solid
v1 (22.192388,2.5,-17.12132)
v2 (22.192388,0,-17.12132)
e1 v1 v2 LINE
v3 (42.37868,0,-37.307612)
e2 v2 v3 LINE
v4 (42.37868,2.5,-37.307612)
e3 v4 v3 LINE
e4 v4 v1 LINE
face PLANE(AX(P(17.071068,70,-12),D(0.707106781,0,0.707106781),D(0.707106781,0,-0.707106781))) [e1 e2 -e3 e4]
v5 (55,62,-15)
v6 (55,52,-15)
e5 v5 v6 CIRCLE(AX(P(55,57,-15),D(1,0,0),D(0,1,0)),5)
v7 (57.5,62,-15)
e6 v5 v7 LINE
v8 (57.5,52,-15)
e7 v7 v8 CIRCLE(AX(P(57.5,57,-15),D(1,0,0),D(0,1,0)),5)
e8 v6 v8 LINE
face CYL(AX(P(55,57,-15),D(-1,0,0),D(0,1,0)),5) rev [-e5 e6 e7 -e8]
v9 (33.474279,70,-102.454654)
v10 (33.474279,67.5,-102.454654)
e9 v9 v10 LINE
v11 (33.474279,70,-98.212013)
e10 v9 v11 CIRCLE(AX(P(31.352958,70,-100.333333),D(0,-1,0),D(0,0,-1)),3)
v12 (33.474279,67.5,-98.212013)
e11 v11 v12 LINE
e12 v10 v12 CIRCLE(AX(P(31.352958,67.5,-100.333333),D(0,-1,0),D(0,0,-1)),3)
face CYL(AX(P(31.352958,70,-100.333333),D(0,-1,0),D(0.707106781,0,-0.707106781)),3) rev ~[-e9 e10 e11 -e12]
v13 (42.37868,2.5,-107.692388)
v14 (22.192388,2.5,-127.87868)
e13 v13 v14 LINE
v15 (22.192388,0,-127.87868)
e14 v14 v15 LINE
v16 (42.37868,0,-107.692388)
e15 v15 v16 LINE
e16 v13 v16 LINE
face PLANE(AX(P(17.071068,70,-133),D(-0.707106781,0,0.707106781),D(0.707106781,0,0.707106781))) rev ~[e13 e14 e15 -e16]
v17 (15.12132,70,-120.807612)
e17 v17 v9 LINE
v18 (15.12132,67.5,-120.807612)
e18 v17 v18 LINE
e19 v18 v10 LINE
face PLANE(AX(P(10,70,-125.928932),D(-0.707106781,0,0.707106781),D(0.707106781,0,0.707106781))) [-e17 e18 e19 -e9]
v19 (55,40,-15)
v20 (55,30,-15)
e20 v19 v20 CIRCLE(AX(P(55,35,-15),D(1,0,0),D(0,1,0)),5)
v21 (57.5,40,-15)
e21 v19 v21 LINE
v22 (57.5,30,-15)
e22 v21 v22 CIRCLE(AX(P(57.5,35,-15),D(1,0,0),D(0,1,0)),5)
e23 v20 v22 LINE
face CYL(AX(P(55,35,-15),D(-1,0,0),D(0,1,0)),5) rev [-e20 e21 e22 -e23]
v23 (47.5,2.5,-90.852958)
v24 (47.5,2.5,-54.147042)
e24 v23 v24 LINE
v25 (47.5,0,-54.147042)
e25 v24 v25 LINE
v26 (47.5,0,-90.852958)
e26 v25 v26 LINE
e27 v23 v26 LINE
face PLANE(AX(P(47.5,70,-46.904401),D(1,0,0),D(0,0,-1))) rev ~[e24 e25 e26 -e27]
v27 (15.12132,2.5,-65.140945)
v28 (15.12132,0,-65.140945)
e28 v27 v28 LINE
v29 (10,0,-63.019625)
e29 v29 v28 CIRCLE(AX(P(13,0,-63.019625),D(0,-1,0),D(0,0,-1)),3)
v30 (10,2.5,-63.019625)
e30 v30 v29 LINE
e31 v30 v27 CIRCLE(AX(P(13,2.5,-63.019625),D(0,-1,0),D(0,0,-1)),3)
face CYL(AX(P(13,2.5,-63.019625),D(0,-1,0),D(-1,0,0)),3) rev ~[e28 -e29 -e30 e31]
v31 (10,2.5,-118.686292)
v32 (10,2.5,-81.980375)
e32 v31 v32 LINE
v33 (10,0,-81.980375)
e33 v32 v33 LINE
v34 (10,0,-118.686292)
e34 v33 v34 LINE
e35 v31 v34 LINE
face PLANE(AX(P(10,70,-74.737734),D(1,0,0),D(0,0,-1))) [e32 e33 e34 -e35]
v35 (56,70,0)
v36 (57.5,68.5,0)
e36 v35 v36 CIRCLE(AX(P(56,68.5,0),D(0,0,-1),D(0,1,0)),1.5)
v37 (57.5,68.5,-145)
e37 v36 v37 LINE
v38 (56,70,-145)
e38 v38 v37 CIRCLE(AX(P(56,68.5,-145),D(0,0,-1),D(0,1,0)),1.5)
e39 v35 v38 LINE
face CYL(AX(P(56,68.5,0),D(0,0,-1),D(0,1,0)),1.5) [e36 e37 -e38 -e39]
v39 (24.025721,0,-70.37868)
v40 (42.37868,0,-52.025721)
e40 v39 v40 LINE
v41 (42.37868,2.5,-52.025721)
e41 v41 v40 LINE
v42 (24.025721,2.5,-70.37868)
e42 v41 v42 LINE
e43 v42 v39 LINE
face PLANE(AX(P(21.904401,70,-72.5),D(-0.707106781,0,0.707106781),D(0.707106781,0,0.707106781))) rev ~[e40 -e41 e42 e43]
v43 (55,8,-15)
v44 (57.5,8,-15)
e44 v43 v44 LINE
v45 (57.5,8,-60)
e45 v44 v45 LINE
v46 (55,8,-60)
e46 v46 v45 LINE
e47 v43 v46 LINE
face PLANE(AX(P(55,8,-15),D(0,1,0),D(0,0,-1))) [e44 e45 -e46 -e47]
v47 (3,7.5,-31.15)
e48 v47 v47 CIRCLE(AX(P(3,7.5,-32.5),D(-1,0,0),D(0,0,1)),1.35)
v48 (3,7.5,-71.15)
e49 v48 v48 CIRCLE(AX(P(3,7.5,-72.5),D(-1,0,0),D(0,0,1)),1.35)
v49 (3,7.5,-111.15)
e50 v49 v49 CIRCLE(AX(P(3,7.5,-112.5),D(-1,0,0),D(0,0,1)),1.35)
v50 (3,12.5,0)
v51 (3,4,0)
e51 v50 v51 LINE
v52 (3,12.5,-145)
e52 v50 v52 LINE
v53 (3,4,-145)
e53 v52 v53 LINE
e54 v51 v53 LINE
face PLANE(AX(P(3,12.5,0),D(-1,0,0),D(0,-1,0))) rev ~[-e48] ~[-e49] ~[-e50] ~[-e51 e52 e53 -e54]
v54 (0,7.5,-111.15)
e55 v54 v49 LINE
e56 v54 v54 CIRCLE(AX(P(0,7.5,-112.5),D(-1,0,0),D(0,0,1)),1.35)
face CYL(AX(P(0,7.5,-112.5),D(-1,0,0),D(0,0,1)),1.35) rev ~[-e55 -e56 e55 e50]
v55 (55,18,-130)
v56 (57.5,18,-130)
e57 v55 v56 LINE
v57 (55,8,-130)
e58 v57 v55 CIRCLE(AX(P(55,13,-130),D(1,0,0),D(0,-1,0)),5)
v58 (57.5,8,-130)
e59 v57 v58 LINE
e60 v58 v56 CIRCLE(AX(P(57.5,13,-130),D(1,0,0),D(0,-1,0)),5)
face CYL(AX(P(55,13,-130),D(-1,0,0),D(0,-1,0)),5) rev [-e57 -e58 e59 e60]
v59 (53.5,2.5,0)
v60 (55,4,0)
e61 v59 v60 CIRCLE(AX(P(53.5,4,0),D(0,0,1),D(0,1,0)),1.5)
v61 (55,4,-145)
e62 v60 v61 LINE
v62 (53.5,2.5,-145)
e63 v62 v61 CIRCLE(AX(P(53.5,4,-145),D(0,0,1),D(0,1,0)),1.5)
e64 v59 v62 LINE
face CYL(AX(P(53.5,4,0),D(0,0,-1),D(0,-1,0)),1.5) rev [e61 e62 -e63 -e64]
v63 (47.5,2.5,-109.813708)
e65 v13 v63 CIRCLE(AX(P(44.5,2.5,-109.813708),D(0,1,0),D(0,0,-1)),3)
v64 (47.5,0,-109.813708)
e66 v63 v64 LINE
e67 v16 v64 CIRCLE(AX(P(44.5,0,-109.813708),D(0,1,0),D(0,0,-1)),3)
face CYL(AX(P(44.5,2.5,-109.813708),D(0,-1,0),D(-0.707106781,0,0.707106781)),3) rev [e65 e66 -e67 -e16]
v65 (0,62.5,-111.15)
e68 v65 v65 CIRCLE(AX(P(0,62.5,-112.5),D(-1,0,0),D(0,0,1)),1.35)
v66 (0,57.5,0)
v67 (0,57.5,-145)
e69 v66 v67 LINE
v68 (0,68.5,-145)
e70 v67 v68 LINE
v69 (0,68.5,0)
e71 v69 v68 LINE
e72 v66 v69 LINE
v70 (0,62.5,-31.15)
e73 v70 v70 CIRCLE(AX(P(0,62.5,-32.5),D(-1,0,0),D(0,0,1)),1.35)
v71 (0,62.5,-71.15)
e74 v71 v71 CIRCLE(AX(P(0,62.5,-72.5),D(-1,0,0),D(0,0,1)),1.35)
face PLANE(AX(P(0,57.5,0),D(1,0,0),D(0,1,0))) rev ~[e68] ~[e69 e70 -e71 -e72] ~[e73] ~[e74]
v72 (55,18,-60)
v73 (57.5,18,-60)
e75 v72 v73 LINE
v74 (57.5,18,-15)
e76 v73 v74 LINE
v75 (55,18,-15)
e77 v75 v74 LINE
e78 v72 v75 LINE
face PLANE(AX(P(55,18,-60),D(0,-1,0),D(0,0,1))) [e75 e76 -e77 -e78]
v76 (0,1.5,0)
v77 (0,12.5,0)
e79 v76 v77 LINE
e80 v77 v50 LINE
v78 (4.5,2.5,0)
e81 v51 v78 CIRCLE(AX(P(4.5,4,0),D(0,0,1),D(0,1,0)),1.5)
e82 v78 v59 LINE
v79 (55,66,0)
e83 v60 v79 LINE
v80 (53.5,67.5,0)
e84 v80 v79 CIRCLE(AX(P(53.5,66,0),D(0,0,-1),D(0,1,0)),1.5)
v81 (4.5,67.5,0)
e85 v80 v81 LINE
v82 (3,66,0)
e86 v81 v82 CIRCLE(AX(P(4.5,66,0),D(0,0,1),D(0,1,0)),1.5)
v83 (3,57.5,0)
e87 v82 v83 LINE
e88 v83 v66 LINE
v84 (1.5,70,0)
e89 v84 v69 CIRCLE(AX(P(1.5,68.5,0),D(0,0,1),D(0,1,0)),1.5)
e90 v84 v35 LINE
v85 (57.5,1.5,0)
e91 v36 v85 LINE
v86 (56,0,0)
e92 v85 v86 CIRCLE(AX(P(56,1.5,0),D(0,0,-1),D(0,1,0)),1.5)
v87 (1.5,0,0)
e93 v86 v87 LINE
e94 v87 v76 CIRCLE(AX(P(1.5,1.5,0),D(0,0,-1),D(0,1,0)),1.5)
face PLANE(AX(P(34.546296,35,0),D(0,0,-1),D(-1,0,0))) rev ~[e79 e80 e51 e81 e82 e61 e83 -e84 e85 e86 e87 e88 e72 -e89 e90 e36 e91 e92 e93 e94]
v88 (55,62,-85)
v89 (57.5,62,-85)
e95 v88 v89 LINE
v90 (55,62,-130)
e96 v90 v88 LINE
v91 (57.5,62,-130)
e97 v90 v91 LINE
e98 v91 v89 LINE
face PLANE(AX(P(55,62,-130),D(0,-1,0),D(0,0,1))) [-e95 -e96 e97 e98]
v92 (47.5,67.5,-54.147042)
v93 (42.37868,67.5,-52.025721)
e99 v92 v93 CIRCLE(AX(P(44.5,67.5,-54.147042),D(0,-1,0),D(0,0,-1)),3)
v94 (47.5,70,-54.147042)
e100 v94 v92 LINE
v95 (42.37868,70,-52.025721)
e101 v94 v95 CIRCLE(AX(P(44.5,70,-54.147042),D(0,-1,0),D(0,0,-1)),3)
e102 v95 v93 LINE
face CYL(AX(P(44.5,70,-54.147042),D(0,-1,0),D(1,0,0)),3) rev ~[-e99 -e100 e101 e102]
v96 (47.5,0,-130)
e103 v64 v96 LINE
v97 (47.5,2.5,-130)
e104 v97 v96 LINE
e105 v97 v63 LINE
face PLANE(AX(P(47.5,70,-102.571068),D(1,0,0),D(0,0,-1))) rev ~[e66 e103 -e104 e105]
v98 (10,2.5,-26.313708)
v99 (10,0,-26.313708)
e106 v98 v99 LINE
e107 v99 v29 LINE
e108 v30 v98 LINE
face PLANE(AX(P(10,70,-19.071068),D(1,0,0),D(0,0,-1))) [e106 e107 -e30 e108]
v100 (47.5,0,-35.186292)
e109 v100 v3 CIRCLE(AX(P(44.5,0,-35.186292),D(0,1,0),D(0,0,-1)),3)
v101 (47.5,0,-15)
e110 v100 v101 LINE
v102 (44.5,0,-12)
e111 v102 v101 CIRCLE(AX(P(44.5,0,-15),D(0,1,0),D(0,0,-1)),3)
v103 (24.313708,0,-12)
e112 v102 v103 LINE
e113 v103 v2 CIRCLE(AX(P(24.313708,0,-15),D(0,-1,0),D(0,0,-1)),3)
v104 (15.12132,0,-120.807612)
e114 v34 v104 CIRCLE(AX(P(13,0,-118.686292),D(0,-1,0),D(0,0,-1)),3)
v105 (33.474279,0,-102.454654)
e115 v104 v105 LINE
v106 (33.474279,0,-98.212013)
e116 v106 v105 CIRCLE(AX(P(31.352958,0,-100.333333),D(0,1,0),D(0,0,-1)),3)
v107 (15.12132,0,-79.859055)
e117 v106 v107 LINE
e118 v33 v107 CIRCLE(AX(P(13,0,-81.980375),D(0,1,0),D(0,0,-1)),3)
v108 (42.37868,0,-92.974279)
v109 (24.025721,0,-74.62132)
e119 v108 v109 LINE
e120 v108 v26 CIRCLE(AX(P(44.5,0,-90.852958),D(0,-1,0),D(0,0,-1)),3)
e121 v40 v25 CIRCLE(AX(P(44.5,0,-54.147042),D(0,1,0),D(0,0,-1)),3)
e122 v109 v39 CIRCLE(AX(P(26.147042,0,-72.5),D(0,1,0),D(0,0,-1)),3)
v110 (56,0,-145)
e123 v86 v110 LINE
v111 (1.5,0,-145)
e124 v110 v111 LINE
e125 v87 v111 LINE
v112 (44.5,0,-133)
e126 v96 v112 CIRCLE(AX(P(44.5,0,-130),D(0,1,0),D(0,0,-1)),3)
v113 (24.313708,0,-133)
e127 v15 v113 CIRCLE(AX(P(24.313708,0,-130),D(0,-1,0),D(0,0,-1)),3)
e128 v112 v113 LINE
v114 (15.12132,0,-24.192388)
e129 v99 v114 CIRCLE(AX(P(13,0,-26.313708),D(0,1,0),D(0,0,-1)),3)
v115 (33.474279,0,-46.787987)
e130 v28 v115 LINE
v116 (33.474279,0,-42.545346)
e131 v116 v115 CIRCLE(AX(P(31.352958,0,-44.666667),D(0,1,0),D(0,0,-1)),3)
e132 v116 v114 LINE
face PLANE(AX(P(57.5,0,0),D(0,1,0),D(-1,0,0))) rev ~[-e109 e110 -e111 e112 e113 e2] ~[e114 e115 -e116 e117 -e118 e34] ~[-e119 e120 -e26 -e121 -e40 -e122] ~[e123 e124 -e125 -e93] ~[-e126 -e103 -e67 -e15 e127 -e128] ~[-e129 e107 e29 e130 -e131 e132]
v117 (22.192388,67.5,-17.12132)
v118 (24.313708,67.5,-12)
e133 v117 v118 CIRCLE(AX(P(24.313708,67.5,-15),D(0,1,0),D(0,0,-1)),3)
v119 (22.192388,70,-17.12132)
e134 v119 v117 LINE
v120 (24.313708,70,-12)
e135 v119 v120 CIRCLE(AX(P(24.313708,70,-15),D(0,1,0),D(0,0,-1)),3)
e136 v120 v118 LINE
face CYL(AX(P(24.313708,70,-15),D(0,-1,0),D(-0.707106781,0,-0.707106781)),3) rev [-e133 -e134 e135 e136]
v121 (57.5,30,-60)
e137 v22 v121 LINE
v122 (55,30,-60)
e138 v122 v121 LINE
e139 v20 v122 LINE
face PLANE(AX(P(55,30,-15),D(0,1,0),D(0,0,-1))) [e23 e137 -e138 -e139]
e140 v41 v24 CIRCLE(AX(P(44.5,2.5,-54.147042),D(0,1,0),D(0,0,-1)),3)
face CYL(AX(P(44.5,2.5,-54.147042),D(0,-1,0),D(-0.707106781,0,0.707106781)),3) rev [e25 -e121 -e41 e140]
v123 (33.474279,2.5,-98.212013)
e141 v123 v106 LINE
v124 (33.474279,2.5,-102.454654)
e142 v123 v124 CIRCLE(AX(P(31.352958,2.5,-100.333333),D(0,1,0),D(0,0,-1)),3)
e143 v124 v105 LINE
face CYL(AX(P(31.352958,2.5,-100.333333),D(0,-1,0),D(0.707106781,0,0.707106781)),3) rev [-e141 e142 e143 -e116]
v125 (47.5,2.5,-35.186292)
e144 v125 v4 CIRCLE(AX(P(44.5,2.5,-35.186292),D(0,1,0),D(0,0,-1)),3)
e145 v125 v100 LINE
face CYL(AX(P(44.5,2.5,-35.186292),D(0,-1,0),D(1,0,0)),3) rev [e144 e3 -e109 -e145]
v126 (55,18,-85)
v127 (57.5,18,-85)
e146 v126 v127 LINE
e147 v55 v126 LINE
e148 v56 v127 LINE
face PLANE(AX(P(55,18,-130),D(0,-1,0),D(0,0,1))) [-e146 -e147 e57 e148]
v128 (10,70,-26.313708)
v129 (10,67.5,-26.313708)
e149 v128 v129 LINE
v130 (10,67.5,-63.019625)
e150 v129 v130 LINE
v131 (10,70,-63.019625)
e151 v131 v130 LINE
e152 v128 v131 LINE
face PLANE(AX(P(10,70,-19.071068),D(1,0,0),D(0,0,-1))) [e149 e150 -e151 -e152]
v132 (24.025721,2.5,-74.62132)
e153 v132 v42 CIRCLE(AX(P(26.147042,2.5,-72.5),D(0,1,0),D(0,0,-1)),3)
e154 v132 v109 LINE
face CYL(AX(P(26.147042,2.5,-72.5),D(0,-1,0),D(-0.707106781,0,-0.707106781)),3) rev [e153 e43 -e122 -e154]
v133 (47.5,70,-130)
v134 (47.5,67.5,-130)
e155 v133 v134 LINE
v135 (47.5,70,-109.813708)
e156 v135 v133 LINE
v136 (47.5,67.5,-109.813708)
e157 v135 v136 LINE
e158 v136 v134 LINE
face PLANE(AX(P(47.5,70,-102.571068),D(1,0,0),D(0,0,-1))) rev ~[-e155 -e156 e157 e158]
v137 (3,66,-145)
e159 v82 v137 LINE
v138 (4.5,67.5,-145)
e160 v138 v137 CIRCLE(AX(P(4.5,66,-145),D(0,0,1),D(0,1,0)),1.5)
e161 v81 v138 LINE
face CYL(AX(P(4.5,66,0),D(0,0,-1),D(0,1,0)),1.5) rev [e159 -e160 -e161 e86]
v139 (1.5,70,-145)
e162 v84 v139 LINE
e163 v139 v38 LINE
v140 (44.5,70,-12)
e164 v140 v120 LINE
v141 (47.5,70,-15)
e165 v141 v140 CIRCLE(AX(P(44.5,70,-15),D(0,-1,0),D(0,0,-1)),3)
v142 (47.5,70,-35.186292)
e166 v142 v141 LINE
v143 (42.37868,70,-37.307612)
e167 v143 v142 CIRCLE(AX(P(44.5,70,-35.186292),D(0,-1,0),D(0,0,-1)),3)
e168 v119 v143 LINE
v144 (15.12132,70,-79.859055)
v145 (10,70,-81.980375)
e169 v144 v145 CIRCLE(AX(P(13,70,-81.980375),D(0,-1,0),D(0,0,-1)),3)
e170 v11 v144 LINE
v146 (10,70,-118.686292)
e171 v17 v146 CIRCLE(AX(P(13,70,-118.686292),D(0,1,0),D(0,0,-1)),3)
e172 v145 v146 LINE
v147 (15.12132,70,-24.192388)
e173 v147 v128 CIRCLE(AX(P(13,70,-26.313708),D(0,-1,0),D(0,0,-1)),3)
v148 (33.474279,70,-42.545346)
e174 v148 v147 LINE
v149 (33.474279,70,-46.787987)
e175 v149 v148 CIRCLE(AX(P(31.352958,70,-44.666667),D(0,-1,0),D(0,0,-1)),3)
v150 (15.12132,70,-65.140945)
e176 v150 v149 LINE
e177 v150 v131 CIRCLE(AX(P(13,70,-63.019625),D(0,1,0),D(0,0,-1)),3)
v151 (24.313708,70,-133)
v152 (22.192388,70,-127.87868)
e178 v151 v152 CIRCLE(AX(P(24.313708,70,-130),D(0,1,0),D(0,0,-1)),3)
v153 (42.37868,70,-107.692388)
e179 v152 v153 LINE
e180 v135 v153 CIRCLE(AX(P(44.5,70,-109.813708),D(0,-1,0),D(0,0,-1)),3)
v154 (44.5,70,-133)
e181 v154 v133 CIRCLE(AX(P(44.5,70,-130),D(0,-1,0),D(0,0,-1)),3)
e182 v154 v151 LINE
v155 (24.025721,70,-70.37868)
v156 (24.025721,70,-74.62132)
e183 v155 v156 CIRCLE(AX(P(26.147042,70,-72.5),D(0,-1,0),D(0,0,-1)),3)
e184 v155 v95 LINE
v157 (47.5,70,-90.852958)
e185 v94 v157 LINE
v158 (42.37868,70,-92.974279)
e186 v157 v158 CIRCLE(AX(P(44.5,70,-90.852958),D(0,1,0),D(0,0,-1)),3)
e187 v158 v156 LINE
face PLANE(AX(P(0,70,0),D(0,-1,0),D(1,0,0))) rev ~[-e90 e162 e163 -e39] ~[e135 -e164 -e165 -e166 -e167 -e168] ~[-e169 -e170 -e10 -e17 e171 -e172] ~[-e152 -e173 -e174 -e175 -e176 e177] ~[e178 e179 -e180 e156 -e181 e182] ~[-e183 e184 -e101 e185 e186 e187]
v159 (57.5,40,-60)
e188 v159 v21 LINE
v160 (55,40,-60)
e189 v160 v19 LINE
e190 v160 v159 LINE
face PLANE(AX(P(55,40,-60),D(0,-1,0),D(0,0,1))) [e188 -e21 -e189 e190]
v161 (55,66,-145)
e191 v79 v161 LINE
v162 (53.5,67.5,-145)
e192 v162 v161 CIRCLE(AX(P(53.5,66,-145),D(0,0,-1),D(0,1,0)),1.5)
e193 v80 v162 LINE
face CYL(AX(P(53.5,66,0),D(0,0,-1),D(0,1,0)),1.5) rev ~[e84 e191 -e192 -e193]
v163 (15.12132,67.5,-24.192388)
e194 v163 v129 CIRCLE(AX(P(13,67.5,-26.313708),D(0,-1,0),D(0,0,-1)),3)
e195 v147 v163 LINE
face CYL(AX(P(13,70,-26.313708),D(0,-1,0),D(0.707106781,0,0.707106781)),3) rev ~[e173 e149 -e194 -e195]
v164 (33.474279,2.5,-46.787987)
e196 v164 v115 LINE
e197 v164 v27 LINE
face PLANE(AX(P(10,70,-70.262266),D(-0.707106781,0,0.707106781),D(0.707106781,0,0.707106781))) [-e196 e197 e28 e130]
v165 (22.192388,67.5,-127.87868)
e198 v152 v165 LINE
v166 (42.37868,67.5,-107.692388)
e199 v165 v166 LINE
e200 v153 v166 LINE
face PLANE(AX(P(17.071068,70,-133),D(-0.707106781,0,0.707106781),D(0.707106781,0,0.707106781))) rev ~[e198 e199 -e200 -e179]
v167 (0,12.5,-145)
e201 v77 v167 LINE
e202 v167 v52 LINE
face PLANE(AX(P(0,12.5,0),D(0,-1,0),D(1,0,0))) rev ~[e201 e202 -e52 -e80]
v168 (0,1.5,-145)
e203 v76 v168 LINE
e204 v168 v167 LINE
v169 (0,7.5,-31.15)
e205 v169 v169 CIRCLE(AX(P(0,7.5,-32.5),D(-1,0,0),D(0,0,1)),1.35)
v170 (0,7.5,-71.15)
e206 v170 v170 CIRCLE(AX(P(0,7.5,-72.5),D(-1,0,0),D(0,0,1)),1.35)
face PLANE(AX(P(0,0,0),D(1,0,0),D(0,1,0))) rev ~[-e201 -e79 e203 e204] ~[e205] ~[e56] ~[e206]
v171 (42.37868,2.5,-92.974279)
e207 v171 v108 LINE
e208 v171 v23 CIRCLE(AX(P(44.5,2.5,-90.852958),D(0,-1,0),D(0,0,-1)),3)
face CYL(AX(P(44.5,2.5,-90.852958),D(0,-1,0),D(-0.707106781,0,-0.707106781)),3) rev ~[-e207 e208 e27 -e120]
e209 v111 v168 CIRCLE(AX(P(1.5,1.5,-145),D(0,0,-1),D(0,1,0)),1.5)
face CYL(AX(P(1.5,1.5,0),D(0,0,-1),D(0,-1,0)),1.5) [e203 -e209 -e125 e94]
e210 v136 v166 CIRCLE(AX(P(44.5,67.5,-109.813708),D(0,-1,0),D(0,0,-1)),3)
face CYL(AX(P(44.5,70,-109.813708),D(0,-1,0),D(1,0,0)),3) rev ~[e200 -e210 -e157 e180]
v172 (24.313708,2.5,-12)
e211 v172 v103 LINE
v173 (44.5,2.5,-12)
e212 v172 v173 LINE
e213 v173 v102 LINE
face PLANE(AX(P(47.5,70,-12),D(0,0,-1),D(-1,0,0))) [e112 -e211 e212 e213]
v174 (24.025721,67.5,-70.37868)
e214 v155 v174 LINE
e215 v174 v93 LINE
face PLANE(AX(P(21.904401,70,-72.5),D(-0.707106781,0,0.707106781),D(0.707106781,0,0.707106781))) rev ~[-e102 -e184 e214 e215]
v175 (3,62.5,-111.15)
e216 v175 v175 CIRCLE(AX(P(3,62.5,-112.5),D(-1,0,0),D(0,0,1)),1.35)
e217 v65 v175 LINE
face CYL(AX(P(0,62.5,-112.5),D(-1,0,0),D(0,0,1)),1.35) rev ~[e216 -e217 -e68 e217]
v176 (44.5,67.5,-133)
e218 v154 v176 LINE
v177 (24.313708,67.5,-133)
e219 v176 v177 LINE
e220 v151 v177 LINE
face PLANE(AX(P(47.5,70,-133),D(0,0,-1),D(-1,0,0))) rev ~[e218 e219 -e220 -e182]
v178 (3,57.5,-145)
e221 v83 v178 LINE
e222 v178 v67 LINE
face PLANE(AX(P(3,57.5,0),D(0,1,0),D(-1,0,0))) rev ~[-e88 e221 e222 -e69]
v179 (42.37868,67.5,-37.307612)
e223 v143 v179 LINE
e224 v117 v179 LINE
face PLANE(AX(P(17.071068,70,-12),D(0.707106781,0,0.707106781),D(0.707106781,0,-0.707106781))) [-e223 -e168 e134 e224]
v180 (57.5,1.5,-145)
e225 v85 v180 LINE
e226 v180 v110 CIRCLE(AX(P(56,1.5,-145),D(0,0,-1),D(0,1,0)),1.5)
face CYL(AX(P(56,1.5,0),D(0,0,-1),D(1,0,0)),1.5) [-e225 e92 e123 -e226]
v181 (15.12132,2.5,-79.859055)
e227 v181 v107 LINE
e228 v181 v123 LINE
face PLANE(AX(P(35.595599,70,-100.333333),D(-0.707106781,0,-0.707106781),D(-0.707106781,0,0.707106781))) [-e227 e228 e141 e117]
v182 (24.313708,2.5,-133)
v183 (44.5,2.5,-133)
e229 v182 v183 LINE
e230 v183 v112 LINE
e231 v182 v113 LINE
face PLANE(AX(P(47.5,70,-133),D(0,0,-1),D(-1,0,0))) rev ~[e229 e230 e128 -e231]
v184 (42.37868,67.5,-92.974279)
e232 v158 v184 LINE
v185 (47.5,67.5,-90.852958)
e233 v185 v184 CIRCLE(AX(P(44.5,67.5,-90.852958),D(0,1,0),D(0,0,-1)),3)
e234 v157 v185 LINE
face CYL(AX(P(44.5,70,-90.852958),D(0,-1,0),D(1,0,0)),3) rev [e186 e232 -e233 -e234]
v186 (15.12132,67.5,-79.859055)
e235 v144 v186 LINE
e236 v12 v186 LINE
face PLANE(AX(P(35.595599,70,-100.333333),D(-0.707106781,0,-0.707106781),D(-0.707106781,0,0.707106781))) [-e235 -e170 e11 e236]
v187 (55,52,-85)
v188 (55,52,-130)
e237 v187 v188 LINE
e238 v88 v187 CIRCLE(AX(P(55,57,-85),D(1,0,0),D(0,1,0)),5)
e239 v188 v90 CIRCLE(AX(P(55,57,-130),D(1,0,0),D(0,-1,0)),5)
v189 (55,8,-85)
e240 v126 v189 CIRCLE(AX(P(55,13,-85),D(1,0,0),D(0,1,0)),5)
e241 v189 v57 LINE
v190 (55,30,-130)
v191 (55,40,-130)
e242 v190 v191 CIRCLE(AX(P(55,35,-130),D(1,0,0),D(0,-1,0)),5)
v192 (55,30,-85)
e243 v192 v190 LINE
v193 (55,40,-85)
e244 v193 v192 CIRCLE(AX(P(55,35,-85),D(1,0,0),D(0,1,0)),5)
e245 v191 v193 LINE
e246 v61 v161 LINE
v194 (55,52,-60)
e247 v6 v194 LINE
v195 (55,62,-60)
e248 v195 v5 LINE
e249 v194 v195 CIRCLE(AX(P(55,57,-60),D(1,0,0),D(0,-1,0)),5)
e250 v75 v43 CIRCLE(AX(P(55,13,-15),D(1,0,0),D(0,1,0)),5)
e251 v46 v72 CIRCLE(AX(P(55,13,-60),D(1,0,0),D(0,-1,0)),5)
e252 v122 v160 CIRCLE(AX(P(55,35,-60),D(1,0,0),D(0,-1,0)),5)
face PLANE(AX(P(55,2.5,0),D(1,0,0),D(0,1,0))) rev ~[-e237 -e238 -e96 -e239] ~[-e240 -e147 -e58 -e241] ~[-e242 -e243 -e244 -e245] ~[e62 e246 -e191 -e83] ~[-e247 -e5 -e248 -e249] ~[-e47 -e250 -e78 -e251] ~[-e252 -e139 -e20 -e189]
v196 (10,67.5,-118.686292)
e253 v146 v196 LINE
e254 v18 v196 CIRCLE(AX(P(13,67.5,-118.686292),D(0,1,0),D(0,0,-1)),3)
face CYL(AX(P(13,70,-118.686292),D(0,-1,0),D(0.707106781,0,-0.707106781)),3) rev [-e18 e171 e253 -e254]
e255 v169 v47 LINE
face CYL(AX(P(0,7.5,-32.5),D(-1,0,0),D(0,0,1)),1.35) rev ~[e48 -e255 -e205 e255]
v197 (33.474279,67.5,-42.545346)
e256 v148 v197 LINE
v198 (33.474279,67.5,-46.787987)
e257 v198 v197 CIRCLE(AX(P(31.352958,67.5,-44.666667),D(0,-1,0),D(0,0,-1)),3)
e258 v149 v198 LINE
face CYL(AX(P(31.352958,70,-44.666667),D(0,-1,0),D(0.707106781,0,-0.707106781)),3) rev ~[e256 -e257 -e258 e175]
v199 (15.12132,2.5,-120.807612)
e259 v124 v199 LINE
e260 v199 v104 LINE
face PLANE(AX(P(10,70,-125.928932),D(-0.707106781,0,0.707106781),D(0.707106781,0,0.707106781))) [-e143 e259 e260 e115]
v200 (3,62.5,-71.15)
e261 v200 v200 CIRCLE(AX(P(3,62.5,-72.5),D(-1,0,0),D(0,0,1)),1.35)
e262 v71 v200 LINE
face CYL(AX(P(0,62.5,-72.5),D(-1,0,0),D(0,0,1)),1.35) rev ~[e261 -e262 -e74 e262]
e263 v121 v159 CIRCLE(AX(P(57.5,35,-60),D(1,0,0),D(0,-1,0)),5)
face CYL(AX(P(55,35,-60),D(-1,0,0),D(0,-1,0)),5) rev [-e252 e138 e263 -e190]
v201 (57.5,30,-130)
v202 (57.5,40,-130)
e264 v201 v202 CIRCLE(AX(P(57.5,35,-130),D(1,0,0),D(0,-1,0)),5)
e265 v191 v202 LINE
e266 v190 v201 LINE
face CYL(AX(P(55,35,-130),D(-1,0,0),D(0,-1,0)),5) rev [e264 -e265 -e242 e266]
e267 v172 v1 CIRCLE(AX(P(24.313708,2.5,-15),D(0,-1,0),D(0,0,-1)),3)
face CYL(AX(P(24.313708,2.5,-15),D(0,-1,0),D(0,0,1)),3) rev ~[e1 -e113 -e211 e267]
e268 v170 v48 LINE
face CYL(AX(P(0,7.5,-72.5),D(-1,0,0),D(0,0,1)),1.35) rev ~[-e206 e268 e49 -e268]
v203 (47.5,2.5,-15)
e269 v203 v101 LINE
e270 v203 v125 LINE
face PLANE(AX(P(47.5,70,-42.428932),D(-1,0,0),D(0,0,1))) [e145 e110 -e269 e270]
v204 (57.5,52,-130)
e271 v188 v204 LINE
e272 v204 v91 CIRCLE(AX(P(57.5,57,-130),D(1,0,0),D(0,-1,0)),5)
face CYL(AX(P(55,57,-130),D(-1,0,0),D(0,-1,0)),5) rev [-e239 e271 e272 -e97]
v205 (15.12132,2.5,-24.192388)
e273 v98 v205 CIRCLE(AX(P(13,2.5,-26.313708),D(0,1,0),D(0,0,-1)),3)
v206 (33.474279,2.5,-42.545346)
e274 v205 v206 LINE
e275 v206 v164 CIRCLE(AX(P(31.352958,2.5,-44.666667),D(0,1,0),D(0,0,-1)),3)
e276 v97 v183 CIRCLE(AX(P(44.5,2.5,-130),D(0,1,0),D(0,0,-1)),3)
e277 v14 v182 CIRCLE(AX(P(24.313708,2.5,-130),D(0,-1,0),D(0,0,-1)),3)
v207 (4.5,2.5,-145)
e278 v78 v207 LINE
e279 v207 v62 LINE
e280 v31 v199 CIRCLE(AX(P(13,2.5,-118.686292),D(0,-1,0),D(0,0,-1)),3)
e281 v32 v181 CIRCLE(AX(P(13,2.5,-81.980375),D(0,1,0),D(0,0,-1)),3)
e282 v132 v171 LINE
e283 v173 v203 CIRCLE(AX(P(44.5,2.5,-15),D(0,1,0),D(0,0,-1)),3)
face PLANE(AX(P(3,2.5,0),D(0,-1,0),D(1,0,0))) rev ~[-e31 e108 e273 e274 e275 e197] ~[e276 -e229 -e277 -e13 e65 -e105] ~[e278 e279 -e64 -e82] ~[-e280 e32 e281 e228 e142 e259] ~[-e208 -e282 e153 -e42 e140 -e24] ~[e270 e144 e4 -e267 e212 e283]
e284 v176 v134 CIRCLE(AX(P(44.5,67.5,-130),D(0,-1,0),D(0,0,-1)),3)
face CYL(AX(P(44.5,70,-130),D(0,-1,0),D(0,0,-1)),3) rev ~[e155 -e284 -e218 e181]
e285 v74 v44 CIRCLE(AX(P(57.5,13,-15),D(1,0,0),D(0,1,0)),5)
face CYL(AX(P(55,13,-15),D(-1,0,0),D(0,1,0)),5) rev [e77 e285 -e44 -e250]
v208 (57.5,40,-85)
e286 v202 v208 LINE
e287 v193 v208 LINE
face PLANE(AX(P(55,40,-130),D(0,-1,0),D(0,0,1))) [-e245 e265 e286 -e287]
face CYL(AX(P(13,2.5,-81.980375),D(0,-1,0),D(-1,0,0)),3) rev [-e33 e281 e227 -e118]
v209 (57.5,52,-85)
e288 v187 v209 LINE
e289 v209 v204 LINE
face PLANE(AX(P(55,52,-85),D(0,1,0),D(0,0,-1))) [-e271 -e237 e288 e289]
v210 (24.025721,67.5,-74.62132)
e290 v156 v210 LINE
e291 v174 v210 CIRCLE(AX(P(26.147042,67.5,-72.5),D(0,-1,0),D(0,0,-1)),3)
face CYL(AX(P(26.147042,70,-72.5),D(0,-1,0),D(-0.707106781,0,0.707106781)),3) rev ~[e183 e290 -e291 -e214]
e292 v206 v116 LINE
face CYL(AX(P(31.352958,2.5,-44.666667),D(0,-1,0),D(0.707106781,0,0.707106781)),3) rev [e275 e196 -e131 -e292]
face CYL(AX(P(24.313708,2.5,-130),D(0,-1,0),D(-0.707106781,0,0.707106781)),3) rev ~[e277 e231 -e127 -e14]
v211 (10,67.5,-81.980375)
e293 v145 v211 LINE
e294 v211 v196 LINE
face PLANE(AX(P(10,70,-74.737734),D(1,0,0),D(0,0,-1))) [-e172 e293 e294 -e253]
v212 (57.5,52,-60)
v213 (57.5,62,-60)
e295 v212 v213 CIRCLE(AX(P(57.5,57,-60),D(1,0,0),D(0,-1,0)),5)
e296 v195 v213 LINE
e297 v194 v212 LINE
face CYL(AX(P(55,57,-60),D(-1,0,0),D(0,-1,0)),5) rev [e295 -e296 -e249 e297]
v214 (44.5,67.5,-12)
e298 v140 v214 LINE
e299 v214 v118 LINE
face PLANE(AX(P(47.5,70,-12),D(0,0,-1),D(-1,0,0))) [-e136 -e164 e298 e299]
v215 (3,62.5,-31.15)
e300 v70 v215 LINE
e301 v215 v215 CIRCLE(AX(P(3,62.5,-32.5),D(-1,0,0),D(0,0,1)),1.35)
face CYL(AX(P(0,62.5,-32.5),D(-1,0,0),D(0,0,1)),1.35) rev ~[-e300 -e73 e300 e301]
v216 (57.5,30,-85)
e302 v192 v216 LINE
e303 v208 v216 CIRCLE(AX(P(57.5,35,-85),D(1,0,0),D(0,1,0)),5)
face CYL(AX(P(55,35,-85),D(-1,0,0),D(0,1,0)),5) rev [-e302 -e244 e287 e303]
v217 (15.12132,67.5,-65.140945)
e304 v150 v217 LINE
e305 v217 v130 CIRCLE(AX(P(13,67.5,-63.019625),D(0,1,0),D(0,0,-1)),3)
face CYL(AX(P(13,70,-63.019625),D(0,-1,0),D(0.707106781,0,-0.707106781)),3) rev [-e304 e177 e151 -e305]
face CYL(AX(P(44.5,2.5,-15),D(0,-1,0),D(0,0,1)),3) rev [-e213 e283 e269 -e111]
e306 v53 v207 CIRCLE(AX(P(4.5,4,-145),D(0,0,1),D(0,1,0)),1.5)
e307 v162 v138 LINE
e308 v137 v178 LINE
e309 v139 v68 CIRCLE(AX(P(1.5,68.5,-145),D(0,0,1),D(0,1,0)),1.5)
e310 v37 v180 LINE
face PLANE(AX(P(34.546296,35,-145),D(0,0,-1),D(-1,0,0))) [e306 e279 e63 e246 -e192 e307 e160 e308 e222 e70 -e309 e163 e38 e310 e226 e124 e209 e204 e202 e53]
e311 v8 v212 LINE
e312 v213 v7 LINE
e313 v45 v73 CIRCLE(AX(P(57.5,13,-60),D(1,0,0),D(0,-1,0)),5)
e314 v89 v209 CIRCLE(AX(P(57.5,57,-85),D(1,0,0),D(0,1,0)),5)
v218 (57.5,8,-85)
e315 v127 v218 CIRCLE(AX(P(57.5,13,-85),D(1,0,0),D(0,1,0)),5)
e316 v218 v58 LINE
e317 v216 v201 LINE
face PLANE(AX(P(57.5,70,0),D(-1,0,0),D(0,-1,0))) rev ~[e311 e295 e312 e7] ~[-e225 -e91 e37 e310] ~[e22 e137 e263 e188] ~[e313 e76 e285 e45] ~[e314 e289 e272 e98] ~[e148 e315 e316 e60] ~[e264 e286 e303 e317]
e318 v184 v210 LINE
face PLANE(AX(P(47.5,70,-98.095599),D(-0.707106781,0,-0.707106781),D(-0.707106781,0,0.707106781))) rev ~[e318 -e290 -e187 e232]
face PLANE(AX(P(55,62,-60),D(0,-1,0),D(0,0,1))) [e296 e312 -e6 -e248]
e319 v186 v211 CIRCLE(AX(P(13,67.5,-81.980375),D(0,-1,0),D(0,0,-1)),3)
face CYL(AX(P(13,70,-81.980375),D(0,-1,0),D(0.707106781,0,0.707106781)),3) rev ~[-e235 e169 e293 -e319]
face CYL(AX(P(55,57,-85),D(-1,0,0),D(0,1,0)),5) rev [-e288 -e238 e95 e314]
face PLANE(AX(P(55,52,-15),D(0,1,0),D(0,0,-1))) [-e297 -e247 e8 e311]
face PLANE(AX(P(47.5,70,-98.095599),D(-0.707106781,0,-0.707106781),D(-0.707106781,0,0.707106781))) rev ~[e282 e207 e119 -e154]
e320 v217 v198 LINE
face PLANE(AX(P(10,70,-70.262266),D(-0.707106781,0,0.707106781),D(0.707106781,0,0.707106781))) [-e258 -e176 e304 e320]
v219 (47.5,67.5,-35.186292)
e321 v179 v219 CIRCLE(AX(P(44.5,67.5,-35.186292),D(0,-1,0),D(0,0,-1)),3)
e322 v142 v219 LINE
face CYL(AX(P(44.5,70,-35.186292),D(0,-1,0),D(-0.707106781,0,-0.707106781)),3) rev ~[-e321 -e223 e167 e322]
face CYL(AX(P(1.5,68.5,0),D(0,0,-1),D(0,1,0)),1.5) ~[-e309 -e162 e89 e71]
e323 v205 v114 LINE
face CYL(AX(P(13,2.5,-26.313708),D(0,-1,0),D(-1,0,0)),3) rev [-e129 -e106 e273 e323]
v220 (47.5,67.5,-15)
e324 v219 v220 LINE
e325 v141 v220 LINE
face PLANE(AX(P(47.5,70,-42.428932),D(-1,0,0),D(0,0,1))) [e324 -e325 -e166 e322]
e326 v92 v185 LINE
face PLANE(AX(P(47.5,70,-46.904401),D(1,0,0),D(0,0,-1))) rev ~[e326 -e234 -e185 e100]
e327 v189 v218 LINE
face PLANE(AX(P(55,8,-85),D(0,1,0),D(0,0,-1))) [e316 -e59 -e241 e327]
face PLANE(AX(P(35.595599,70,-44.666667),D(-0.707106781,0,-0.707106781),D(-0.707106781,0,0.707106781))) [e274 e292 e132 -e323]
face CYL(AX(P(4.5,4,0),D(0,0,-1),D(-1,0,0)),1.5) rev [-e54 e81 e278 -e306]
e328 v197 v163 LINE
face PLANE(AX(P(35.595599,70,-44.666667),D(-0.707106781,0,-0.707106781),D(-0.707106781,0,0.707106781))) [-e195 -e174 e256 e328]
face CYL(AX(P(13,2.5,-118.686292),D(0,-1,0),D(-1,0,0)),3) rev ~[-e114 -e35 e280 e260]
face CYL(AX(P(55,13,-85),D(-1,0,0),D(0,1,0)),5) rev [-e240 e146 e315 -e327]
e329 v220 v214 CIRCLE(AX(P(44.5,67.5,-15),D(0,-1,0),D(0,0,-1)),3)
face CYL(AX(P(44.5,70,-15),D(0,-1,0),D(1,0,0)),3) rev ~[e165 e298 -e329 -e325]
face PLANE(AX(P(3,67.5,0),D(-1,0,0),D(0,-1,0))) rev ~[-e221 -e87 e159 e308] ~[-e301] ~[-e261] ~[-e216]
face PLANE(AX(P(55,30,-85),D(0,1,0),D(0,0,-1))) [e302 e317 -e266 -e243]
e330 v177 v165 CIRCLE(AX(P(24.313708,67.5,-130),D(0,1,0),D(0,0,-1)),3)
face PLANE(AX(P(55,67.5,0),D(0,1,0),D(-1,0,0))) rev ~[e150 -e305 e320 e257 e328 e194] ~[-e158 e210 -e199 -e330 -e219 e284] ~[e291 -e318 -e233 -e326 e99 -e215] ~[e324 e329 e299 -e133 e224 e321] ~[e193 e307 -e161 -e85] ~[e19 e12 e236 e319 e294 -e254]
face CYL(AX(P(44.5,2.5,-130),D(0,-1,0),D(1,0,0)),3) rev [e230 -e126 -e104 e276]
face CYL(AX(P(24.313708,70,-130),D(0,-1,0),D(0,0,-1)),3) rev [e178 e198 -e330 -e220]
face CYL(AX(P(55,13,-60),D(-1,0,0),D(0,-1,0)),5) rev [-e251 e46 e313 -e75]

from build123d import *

# Parameters (mm, degrees)
EXTRUDE_1_DEPTH     = 145
SKETCH_2_R          = 1.35
CUT_EXTRUDE_1_DEPTH = 3
CUT_EXTRUDE_2_DEPTH = 2.5
CUT_EXTRUDE_3_DEPTH = 70
FILLET_1_R          = 3
FILLET_2_R          = 1.5


with BuildPart() as part:
    # 草图1 → 凸台-拉伸1 (new body)
    with BuildSketch(Plane.XY):
        Polygon((0, 57.5), (0, 70), (57.5, 70), (57.5, 0), (0, 0), (0, 12.5), (3, 12.5), (3, 2.5), (55, 2.5), (55, 67.5), (3, 67.5), (3, 57.5), align=None)
    extrude(amount=-EXTRUDE_1_DEPTH)

    # 草图2 → 切除-拉伸1 (cut)
    with BuildSketch(Plane.ZY):
        with Locations((-112.5, 62.5)):
            Circle(SKETCH_2_R)
        with Locations((-72.5, 62.5)):
            Circle(SKETCH_2_R)
        with Locations((-32.5, 62.5)):
            Circle(SKETCH_2_R)
        with Locations((-32.5, 7.5)):
            Circle(SKETCH_2_R)
        with Locations((-72.5, 7.5)):
            Circle(SKETCH_2_R)
        with Locations((-112.5, 7.5)):
            Circle(SKETCH_2_R)
    extrude(amount=-CUT_EXTRUDE_1_DEPTH, mode=Mode.SUBTRACT)

    # 草图3 → 切除-拉伸2 (cut)
    with BuildSketch(Plane.ZY.offset(-55)):
        with BuildLine():
            Line((-130, 62), (-85, 62))
            ThreePointArc((-85, 62), (-80, 57), (-85, 52))
            Line((-85, 52), (-130, 52))
            ThreePointArc((-130, 52), (-135, 57), (-130, 62))
        make_face()
        with BuildLine():
            Line((-130, 40), (-85, 40))
            ThreePointArc((-85, 40), (-80, 35), (-85, 30))
            Line((-85, 30), (-130, 30))
            ThreePointArc((-130, 30), (-135, 35), (-130, 40))
        make_face()
        with BuildLine():
            Line((-130, 18), (-85, 18))
            ThreePointArc((-85, 18), (-80, 13), (-85, 8))
            Line((-85, 8), (-130, 8))
            ThreePointArc((-130, 8), (-135, 13), (-130, 18))
        make_face()
        with BuildLine():
            Line((-60, 62), (-15, 62))
            ThreePointArc((-15, 62), (-10, 57), (-15, 52))
            Line((-15, 52), (-60, 52))
            ThreePointArc((-60, 52), (-65, 57), (-60, 62))
        make_face()
        with BuildLine():
            Line((-60, 40), (-15, 40))
            ThreePointArc((-15, 40), (-10, 35), (-15, 30))
            Line((-15, 30), (-60, 30))
            ThreePointArc((-60, 30), (-65, 35), (-60, 40))
        make_face()
        with BuildLine():
            Line((-60, 18), (-15, 18))
            ThreePointArc((-15, 18), (-10, 13), (-15, 8))
            Line((-15, 8), (-60, 8))
            ThreePointArc((-60, 8), (-65, 13), (-60, 18))
        make_face()
    extrude(amount=-CUT_EXTRUDE_2_DEPTH, mode=Mode.SUBTRACT)

    # 草图4 → 切除-拉伸3 (cut)
    with BuildSketch(Plane(origin=(0, 70, 0), x_dir=(1, 0, 0), z_dir=(0, 1, 0))):
        Polygon((47.5, 98.095598855), (21.904401145, 72.5), (47.5, 46.904401145), align=None)
        Polygon((17.071067812, 133), (47.5, 102.571067812), (47.5, 133), align=None)
        Polygon((10, 125.928932188), (35.595598855, 100.333333333), (10, 74.737734479), align=None)
        Polygon((10, 70.262265521), (35.595598855, 44.666666667), (10, 19.071067812), align=None)
        Polygon((17.071067812, 12), (47.5, 42.428932188), (47.5, 12), align=None)
    extrude(amount=-CUT_EXTRUDE_3_DEPTH, mode=Mode.SUBTRACT)

    # 圆角1
    fillet_1_edges = [part.edges().sort_by_distance(p)[0] for p in [
        (17.071067812, 1.25, -133),
        (47.5, 1.25, -133),
        (47.5, 1.25, -102.571067812),
        (17.071067812, 68.75, -133),
        (47.5, 68.75, -133),
        (47.5, 68.75, -102.571067812),
        (47.5, 1.25, -98.095598855),
        (47.5, 1.25, -46.904401145),
        (21.904401145, 1.25, -72.5),
        (47.5, 68.75, -98.095598855),
        (47.5, 68.75, -46.904401145),
        (21.904401145, 68.75, -72.5),
        (10, 1.25, -74.737734479),
        (10, 1.25, -125.928932188),
        (35.595598855, 1.25, -100.333333333),
        (10, 68.75, -74.737734479),
        (10, 68.75, -125.928932188),
        (35.595598855, 68.75, -100.333333333),
        (10, 1.25, -19.071067812),
        (10, 1.25, -70.262265521),
        (35.595598855, 1.25, -44.666666667),
        (10, 68.75, -19.071067812),
        (10, 68.75, -70.262265521),
        (35.595598855, 68.75, -44.666666667),
        (47.5, 1.25, -12),
        (17.071067812, 1.25, -12),
        (47.5, 1.25, -42.428932188),
        (47.5, 68.75, -12),
        (17.071067812, 68.75, -12),
        (47.5, 68.75, -42.428932188),
    ]]
    fillet(fillet_1_edges, radius=FILLET_1_R)

    # 圆角2
    fillet_2_edges = [part.edges().sort_by_distance(p)[0] for p in [
        (0, 70, -72.5),
        (57.5, 70, -72.5),
        (57.5, 0, -72.5),
        (0, 0, -72.5),
        (3, 2.5, -72.5),
        (55, 2.5, -72.5),
        (55, 67.5, -72.5),
        (3, 67.5, -72.5),
    ]]
    fillet(fillet_2_edges, radius=FILLET_2_R)


solid = part.part
